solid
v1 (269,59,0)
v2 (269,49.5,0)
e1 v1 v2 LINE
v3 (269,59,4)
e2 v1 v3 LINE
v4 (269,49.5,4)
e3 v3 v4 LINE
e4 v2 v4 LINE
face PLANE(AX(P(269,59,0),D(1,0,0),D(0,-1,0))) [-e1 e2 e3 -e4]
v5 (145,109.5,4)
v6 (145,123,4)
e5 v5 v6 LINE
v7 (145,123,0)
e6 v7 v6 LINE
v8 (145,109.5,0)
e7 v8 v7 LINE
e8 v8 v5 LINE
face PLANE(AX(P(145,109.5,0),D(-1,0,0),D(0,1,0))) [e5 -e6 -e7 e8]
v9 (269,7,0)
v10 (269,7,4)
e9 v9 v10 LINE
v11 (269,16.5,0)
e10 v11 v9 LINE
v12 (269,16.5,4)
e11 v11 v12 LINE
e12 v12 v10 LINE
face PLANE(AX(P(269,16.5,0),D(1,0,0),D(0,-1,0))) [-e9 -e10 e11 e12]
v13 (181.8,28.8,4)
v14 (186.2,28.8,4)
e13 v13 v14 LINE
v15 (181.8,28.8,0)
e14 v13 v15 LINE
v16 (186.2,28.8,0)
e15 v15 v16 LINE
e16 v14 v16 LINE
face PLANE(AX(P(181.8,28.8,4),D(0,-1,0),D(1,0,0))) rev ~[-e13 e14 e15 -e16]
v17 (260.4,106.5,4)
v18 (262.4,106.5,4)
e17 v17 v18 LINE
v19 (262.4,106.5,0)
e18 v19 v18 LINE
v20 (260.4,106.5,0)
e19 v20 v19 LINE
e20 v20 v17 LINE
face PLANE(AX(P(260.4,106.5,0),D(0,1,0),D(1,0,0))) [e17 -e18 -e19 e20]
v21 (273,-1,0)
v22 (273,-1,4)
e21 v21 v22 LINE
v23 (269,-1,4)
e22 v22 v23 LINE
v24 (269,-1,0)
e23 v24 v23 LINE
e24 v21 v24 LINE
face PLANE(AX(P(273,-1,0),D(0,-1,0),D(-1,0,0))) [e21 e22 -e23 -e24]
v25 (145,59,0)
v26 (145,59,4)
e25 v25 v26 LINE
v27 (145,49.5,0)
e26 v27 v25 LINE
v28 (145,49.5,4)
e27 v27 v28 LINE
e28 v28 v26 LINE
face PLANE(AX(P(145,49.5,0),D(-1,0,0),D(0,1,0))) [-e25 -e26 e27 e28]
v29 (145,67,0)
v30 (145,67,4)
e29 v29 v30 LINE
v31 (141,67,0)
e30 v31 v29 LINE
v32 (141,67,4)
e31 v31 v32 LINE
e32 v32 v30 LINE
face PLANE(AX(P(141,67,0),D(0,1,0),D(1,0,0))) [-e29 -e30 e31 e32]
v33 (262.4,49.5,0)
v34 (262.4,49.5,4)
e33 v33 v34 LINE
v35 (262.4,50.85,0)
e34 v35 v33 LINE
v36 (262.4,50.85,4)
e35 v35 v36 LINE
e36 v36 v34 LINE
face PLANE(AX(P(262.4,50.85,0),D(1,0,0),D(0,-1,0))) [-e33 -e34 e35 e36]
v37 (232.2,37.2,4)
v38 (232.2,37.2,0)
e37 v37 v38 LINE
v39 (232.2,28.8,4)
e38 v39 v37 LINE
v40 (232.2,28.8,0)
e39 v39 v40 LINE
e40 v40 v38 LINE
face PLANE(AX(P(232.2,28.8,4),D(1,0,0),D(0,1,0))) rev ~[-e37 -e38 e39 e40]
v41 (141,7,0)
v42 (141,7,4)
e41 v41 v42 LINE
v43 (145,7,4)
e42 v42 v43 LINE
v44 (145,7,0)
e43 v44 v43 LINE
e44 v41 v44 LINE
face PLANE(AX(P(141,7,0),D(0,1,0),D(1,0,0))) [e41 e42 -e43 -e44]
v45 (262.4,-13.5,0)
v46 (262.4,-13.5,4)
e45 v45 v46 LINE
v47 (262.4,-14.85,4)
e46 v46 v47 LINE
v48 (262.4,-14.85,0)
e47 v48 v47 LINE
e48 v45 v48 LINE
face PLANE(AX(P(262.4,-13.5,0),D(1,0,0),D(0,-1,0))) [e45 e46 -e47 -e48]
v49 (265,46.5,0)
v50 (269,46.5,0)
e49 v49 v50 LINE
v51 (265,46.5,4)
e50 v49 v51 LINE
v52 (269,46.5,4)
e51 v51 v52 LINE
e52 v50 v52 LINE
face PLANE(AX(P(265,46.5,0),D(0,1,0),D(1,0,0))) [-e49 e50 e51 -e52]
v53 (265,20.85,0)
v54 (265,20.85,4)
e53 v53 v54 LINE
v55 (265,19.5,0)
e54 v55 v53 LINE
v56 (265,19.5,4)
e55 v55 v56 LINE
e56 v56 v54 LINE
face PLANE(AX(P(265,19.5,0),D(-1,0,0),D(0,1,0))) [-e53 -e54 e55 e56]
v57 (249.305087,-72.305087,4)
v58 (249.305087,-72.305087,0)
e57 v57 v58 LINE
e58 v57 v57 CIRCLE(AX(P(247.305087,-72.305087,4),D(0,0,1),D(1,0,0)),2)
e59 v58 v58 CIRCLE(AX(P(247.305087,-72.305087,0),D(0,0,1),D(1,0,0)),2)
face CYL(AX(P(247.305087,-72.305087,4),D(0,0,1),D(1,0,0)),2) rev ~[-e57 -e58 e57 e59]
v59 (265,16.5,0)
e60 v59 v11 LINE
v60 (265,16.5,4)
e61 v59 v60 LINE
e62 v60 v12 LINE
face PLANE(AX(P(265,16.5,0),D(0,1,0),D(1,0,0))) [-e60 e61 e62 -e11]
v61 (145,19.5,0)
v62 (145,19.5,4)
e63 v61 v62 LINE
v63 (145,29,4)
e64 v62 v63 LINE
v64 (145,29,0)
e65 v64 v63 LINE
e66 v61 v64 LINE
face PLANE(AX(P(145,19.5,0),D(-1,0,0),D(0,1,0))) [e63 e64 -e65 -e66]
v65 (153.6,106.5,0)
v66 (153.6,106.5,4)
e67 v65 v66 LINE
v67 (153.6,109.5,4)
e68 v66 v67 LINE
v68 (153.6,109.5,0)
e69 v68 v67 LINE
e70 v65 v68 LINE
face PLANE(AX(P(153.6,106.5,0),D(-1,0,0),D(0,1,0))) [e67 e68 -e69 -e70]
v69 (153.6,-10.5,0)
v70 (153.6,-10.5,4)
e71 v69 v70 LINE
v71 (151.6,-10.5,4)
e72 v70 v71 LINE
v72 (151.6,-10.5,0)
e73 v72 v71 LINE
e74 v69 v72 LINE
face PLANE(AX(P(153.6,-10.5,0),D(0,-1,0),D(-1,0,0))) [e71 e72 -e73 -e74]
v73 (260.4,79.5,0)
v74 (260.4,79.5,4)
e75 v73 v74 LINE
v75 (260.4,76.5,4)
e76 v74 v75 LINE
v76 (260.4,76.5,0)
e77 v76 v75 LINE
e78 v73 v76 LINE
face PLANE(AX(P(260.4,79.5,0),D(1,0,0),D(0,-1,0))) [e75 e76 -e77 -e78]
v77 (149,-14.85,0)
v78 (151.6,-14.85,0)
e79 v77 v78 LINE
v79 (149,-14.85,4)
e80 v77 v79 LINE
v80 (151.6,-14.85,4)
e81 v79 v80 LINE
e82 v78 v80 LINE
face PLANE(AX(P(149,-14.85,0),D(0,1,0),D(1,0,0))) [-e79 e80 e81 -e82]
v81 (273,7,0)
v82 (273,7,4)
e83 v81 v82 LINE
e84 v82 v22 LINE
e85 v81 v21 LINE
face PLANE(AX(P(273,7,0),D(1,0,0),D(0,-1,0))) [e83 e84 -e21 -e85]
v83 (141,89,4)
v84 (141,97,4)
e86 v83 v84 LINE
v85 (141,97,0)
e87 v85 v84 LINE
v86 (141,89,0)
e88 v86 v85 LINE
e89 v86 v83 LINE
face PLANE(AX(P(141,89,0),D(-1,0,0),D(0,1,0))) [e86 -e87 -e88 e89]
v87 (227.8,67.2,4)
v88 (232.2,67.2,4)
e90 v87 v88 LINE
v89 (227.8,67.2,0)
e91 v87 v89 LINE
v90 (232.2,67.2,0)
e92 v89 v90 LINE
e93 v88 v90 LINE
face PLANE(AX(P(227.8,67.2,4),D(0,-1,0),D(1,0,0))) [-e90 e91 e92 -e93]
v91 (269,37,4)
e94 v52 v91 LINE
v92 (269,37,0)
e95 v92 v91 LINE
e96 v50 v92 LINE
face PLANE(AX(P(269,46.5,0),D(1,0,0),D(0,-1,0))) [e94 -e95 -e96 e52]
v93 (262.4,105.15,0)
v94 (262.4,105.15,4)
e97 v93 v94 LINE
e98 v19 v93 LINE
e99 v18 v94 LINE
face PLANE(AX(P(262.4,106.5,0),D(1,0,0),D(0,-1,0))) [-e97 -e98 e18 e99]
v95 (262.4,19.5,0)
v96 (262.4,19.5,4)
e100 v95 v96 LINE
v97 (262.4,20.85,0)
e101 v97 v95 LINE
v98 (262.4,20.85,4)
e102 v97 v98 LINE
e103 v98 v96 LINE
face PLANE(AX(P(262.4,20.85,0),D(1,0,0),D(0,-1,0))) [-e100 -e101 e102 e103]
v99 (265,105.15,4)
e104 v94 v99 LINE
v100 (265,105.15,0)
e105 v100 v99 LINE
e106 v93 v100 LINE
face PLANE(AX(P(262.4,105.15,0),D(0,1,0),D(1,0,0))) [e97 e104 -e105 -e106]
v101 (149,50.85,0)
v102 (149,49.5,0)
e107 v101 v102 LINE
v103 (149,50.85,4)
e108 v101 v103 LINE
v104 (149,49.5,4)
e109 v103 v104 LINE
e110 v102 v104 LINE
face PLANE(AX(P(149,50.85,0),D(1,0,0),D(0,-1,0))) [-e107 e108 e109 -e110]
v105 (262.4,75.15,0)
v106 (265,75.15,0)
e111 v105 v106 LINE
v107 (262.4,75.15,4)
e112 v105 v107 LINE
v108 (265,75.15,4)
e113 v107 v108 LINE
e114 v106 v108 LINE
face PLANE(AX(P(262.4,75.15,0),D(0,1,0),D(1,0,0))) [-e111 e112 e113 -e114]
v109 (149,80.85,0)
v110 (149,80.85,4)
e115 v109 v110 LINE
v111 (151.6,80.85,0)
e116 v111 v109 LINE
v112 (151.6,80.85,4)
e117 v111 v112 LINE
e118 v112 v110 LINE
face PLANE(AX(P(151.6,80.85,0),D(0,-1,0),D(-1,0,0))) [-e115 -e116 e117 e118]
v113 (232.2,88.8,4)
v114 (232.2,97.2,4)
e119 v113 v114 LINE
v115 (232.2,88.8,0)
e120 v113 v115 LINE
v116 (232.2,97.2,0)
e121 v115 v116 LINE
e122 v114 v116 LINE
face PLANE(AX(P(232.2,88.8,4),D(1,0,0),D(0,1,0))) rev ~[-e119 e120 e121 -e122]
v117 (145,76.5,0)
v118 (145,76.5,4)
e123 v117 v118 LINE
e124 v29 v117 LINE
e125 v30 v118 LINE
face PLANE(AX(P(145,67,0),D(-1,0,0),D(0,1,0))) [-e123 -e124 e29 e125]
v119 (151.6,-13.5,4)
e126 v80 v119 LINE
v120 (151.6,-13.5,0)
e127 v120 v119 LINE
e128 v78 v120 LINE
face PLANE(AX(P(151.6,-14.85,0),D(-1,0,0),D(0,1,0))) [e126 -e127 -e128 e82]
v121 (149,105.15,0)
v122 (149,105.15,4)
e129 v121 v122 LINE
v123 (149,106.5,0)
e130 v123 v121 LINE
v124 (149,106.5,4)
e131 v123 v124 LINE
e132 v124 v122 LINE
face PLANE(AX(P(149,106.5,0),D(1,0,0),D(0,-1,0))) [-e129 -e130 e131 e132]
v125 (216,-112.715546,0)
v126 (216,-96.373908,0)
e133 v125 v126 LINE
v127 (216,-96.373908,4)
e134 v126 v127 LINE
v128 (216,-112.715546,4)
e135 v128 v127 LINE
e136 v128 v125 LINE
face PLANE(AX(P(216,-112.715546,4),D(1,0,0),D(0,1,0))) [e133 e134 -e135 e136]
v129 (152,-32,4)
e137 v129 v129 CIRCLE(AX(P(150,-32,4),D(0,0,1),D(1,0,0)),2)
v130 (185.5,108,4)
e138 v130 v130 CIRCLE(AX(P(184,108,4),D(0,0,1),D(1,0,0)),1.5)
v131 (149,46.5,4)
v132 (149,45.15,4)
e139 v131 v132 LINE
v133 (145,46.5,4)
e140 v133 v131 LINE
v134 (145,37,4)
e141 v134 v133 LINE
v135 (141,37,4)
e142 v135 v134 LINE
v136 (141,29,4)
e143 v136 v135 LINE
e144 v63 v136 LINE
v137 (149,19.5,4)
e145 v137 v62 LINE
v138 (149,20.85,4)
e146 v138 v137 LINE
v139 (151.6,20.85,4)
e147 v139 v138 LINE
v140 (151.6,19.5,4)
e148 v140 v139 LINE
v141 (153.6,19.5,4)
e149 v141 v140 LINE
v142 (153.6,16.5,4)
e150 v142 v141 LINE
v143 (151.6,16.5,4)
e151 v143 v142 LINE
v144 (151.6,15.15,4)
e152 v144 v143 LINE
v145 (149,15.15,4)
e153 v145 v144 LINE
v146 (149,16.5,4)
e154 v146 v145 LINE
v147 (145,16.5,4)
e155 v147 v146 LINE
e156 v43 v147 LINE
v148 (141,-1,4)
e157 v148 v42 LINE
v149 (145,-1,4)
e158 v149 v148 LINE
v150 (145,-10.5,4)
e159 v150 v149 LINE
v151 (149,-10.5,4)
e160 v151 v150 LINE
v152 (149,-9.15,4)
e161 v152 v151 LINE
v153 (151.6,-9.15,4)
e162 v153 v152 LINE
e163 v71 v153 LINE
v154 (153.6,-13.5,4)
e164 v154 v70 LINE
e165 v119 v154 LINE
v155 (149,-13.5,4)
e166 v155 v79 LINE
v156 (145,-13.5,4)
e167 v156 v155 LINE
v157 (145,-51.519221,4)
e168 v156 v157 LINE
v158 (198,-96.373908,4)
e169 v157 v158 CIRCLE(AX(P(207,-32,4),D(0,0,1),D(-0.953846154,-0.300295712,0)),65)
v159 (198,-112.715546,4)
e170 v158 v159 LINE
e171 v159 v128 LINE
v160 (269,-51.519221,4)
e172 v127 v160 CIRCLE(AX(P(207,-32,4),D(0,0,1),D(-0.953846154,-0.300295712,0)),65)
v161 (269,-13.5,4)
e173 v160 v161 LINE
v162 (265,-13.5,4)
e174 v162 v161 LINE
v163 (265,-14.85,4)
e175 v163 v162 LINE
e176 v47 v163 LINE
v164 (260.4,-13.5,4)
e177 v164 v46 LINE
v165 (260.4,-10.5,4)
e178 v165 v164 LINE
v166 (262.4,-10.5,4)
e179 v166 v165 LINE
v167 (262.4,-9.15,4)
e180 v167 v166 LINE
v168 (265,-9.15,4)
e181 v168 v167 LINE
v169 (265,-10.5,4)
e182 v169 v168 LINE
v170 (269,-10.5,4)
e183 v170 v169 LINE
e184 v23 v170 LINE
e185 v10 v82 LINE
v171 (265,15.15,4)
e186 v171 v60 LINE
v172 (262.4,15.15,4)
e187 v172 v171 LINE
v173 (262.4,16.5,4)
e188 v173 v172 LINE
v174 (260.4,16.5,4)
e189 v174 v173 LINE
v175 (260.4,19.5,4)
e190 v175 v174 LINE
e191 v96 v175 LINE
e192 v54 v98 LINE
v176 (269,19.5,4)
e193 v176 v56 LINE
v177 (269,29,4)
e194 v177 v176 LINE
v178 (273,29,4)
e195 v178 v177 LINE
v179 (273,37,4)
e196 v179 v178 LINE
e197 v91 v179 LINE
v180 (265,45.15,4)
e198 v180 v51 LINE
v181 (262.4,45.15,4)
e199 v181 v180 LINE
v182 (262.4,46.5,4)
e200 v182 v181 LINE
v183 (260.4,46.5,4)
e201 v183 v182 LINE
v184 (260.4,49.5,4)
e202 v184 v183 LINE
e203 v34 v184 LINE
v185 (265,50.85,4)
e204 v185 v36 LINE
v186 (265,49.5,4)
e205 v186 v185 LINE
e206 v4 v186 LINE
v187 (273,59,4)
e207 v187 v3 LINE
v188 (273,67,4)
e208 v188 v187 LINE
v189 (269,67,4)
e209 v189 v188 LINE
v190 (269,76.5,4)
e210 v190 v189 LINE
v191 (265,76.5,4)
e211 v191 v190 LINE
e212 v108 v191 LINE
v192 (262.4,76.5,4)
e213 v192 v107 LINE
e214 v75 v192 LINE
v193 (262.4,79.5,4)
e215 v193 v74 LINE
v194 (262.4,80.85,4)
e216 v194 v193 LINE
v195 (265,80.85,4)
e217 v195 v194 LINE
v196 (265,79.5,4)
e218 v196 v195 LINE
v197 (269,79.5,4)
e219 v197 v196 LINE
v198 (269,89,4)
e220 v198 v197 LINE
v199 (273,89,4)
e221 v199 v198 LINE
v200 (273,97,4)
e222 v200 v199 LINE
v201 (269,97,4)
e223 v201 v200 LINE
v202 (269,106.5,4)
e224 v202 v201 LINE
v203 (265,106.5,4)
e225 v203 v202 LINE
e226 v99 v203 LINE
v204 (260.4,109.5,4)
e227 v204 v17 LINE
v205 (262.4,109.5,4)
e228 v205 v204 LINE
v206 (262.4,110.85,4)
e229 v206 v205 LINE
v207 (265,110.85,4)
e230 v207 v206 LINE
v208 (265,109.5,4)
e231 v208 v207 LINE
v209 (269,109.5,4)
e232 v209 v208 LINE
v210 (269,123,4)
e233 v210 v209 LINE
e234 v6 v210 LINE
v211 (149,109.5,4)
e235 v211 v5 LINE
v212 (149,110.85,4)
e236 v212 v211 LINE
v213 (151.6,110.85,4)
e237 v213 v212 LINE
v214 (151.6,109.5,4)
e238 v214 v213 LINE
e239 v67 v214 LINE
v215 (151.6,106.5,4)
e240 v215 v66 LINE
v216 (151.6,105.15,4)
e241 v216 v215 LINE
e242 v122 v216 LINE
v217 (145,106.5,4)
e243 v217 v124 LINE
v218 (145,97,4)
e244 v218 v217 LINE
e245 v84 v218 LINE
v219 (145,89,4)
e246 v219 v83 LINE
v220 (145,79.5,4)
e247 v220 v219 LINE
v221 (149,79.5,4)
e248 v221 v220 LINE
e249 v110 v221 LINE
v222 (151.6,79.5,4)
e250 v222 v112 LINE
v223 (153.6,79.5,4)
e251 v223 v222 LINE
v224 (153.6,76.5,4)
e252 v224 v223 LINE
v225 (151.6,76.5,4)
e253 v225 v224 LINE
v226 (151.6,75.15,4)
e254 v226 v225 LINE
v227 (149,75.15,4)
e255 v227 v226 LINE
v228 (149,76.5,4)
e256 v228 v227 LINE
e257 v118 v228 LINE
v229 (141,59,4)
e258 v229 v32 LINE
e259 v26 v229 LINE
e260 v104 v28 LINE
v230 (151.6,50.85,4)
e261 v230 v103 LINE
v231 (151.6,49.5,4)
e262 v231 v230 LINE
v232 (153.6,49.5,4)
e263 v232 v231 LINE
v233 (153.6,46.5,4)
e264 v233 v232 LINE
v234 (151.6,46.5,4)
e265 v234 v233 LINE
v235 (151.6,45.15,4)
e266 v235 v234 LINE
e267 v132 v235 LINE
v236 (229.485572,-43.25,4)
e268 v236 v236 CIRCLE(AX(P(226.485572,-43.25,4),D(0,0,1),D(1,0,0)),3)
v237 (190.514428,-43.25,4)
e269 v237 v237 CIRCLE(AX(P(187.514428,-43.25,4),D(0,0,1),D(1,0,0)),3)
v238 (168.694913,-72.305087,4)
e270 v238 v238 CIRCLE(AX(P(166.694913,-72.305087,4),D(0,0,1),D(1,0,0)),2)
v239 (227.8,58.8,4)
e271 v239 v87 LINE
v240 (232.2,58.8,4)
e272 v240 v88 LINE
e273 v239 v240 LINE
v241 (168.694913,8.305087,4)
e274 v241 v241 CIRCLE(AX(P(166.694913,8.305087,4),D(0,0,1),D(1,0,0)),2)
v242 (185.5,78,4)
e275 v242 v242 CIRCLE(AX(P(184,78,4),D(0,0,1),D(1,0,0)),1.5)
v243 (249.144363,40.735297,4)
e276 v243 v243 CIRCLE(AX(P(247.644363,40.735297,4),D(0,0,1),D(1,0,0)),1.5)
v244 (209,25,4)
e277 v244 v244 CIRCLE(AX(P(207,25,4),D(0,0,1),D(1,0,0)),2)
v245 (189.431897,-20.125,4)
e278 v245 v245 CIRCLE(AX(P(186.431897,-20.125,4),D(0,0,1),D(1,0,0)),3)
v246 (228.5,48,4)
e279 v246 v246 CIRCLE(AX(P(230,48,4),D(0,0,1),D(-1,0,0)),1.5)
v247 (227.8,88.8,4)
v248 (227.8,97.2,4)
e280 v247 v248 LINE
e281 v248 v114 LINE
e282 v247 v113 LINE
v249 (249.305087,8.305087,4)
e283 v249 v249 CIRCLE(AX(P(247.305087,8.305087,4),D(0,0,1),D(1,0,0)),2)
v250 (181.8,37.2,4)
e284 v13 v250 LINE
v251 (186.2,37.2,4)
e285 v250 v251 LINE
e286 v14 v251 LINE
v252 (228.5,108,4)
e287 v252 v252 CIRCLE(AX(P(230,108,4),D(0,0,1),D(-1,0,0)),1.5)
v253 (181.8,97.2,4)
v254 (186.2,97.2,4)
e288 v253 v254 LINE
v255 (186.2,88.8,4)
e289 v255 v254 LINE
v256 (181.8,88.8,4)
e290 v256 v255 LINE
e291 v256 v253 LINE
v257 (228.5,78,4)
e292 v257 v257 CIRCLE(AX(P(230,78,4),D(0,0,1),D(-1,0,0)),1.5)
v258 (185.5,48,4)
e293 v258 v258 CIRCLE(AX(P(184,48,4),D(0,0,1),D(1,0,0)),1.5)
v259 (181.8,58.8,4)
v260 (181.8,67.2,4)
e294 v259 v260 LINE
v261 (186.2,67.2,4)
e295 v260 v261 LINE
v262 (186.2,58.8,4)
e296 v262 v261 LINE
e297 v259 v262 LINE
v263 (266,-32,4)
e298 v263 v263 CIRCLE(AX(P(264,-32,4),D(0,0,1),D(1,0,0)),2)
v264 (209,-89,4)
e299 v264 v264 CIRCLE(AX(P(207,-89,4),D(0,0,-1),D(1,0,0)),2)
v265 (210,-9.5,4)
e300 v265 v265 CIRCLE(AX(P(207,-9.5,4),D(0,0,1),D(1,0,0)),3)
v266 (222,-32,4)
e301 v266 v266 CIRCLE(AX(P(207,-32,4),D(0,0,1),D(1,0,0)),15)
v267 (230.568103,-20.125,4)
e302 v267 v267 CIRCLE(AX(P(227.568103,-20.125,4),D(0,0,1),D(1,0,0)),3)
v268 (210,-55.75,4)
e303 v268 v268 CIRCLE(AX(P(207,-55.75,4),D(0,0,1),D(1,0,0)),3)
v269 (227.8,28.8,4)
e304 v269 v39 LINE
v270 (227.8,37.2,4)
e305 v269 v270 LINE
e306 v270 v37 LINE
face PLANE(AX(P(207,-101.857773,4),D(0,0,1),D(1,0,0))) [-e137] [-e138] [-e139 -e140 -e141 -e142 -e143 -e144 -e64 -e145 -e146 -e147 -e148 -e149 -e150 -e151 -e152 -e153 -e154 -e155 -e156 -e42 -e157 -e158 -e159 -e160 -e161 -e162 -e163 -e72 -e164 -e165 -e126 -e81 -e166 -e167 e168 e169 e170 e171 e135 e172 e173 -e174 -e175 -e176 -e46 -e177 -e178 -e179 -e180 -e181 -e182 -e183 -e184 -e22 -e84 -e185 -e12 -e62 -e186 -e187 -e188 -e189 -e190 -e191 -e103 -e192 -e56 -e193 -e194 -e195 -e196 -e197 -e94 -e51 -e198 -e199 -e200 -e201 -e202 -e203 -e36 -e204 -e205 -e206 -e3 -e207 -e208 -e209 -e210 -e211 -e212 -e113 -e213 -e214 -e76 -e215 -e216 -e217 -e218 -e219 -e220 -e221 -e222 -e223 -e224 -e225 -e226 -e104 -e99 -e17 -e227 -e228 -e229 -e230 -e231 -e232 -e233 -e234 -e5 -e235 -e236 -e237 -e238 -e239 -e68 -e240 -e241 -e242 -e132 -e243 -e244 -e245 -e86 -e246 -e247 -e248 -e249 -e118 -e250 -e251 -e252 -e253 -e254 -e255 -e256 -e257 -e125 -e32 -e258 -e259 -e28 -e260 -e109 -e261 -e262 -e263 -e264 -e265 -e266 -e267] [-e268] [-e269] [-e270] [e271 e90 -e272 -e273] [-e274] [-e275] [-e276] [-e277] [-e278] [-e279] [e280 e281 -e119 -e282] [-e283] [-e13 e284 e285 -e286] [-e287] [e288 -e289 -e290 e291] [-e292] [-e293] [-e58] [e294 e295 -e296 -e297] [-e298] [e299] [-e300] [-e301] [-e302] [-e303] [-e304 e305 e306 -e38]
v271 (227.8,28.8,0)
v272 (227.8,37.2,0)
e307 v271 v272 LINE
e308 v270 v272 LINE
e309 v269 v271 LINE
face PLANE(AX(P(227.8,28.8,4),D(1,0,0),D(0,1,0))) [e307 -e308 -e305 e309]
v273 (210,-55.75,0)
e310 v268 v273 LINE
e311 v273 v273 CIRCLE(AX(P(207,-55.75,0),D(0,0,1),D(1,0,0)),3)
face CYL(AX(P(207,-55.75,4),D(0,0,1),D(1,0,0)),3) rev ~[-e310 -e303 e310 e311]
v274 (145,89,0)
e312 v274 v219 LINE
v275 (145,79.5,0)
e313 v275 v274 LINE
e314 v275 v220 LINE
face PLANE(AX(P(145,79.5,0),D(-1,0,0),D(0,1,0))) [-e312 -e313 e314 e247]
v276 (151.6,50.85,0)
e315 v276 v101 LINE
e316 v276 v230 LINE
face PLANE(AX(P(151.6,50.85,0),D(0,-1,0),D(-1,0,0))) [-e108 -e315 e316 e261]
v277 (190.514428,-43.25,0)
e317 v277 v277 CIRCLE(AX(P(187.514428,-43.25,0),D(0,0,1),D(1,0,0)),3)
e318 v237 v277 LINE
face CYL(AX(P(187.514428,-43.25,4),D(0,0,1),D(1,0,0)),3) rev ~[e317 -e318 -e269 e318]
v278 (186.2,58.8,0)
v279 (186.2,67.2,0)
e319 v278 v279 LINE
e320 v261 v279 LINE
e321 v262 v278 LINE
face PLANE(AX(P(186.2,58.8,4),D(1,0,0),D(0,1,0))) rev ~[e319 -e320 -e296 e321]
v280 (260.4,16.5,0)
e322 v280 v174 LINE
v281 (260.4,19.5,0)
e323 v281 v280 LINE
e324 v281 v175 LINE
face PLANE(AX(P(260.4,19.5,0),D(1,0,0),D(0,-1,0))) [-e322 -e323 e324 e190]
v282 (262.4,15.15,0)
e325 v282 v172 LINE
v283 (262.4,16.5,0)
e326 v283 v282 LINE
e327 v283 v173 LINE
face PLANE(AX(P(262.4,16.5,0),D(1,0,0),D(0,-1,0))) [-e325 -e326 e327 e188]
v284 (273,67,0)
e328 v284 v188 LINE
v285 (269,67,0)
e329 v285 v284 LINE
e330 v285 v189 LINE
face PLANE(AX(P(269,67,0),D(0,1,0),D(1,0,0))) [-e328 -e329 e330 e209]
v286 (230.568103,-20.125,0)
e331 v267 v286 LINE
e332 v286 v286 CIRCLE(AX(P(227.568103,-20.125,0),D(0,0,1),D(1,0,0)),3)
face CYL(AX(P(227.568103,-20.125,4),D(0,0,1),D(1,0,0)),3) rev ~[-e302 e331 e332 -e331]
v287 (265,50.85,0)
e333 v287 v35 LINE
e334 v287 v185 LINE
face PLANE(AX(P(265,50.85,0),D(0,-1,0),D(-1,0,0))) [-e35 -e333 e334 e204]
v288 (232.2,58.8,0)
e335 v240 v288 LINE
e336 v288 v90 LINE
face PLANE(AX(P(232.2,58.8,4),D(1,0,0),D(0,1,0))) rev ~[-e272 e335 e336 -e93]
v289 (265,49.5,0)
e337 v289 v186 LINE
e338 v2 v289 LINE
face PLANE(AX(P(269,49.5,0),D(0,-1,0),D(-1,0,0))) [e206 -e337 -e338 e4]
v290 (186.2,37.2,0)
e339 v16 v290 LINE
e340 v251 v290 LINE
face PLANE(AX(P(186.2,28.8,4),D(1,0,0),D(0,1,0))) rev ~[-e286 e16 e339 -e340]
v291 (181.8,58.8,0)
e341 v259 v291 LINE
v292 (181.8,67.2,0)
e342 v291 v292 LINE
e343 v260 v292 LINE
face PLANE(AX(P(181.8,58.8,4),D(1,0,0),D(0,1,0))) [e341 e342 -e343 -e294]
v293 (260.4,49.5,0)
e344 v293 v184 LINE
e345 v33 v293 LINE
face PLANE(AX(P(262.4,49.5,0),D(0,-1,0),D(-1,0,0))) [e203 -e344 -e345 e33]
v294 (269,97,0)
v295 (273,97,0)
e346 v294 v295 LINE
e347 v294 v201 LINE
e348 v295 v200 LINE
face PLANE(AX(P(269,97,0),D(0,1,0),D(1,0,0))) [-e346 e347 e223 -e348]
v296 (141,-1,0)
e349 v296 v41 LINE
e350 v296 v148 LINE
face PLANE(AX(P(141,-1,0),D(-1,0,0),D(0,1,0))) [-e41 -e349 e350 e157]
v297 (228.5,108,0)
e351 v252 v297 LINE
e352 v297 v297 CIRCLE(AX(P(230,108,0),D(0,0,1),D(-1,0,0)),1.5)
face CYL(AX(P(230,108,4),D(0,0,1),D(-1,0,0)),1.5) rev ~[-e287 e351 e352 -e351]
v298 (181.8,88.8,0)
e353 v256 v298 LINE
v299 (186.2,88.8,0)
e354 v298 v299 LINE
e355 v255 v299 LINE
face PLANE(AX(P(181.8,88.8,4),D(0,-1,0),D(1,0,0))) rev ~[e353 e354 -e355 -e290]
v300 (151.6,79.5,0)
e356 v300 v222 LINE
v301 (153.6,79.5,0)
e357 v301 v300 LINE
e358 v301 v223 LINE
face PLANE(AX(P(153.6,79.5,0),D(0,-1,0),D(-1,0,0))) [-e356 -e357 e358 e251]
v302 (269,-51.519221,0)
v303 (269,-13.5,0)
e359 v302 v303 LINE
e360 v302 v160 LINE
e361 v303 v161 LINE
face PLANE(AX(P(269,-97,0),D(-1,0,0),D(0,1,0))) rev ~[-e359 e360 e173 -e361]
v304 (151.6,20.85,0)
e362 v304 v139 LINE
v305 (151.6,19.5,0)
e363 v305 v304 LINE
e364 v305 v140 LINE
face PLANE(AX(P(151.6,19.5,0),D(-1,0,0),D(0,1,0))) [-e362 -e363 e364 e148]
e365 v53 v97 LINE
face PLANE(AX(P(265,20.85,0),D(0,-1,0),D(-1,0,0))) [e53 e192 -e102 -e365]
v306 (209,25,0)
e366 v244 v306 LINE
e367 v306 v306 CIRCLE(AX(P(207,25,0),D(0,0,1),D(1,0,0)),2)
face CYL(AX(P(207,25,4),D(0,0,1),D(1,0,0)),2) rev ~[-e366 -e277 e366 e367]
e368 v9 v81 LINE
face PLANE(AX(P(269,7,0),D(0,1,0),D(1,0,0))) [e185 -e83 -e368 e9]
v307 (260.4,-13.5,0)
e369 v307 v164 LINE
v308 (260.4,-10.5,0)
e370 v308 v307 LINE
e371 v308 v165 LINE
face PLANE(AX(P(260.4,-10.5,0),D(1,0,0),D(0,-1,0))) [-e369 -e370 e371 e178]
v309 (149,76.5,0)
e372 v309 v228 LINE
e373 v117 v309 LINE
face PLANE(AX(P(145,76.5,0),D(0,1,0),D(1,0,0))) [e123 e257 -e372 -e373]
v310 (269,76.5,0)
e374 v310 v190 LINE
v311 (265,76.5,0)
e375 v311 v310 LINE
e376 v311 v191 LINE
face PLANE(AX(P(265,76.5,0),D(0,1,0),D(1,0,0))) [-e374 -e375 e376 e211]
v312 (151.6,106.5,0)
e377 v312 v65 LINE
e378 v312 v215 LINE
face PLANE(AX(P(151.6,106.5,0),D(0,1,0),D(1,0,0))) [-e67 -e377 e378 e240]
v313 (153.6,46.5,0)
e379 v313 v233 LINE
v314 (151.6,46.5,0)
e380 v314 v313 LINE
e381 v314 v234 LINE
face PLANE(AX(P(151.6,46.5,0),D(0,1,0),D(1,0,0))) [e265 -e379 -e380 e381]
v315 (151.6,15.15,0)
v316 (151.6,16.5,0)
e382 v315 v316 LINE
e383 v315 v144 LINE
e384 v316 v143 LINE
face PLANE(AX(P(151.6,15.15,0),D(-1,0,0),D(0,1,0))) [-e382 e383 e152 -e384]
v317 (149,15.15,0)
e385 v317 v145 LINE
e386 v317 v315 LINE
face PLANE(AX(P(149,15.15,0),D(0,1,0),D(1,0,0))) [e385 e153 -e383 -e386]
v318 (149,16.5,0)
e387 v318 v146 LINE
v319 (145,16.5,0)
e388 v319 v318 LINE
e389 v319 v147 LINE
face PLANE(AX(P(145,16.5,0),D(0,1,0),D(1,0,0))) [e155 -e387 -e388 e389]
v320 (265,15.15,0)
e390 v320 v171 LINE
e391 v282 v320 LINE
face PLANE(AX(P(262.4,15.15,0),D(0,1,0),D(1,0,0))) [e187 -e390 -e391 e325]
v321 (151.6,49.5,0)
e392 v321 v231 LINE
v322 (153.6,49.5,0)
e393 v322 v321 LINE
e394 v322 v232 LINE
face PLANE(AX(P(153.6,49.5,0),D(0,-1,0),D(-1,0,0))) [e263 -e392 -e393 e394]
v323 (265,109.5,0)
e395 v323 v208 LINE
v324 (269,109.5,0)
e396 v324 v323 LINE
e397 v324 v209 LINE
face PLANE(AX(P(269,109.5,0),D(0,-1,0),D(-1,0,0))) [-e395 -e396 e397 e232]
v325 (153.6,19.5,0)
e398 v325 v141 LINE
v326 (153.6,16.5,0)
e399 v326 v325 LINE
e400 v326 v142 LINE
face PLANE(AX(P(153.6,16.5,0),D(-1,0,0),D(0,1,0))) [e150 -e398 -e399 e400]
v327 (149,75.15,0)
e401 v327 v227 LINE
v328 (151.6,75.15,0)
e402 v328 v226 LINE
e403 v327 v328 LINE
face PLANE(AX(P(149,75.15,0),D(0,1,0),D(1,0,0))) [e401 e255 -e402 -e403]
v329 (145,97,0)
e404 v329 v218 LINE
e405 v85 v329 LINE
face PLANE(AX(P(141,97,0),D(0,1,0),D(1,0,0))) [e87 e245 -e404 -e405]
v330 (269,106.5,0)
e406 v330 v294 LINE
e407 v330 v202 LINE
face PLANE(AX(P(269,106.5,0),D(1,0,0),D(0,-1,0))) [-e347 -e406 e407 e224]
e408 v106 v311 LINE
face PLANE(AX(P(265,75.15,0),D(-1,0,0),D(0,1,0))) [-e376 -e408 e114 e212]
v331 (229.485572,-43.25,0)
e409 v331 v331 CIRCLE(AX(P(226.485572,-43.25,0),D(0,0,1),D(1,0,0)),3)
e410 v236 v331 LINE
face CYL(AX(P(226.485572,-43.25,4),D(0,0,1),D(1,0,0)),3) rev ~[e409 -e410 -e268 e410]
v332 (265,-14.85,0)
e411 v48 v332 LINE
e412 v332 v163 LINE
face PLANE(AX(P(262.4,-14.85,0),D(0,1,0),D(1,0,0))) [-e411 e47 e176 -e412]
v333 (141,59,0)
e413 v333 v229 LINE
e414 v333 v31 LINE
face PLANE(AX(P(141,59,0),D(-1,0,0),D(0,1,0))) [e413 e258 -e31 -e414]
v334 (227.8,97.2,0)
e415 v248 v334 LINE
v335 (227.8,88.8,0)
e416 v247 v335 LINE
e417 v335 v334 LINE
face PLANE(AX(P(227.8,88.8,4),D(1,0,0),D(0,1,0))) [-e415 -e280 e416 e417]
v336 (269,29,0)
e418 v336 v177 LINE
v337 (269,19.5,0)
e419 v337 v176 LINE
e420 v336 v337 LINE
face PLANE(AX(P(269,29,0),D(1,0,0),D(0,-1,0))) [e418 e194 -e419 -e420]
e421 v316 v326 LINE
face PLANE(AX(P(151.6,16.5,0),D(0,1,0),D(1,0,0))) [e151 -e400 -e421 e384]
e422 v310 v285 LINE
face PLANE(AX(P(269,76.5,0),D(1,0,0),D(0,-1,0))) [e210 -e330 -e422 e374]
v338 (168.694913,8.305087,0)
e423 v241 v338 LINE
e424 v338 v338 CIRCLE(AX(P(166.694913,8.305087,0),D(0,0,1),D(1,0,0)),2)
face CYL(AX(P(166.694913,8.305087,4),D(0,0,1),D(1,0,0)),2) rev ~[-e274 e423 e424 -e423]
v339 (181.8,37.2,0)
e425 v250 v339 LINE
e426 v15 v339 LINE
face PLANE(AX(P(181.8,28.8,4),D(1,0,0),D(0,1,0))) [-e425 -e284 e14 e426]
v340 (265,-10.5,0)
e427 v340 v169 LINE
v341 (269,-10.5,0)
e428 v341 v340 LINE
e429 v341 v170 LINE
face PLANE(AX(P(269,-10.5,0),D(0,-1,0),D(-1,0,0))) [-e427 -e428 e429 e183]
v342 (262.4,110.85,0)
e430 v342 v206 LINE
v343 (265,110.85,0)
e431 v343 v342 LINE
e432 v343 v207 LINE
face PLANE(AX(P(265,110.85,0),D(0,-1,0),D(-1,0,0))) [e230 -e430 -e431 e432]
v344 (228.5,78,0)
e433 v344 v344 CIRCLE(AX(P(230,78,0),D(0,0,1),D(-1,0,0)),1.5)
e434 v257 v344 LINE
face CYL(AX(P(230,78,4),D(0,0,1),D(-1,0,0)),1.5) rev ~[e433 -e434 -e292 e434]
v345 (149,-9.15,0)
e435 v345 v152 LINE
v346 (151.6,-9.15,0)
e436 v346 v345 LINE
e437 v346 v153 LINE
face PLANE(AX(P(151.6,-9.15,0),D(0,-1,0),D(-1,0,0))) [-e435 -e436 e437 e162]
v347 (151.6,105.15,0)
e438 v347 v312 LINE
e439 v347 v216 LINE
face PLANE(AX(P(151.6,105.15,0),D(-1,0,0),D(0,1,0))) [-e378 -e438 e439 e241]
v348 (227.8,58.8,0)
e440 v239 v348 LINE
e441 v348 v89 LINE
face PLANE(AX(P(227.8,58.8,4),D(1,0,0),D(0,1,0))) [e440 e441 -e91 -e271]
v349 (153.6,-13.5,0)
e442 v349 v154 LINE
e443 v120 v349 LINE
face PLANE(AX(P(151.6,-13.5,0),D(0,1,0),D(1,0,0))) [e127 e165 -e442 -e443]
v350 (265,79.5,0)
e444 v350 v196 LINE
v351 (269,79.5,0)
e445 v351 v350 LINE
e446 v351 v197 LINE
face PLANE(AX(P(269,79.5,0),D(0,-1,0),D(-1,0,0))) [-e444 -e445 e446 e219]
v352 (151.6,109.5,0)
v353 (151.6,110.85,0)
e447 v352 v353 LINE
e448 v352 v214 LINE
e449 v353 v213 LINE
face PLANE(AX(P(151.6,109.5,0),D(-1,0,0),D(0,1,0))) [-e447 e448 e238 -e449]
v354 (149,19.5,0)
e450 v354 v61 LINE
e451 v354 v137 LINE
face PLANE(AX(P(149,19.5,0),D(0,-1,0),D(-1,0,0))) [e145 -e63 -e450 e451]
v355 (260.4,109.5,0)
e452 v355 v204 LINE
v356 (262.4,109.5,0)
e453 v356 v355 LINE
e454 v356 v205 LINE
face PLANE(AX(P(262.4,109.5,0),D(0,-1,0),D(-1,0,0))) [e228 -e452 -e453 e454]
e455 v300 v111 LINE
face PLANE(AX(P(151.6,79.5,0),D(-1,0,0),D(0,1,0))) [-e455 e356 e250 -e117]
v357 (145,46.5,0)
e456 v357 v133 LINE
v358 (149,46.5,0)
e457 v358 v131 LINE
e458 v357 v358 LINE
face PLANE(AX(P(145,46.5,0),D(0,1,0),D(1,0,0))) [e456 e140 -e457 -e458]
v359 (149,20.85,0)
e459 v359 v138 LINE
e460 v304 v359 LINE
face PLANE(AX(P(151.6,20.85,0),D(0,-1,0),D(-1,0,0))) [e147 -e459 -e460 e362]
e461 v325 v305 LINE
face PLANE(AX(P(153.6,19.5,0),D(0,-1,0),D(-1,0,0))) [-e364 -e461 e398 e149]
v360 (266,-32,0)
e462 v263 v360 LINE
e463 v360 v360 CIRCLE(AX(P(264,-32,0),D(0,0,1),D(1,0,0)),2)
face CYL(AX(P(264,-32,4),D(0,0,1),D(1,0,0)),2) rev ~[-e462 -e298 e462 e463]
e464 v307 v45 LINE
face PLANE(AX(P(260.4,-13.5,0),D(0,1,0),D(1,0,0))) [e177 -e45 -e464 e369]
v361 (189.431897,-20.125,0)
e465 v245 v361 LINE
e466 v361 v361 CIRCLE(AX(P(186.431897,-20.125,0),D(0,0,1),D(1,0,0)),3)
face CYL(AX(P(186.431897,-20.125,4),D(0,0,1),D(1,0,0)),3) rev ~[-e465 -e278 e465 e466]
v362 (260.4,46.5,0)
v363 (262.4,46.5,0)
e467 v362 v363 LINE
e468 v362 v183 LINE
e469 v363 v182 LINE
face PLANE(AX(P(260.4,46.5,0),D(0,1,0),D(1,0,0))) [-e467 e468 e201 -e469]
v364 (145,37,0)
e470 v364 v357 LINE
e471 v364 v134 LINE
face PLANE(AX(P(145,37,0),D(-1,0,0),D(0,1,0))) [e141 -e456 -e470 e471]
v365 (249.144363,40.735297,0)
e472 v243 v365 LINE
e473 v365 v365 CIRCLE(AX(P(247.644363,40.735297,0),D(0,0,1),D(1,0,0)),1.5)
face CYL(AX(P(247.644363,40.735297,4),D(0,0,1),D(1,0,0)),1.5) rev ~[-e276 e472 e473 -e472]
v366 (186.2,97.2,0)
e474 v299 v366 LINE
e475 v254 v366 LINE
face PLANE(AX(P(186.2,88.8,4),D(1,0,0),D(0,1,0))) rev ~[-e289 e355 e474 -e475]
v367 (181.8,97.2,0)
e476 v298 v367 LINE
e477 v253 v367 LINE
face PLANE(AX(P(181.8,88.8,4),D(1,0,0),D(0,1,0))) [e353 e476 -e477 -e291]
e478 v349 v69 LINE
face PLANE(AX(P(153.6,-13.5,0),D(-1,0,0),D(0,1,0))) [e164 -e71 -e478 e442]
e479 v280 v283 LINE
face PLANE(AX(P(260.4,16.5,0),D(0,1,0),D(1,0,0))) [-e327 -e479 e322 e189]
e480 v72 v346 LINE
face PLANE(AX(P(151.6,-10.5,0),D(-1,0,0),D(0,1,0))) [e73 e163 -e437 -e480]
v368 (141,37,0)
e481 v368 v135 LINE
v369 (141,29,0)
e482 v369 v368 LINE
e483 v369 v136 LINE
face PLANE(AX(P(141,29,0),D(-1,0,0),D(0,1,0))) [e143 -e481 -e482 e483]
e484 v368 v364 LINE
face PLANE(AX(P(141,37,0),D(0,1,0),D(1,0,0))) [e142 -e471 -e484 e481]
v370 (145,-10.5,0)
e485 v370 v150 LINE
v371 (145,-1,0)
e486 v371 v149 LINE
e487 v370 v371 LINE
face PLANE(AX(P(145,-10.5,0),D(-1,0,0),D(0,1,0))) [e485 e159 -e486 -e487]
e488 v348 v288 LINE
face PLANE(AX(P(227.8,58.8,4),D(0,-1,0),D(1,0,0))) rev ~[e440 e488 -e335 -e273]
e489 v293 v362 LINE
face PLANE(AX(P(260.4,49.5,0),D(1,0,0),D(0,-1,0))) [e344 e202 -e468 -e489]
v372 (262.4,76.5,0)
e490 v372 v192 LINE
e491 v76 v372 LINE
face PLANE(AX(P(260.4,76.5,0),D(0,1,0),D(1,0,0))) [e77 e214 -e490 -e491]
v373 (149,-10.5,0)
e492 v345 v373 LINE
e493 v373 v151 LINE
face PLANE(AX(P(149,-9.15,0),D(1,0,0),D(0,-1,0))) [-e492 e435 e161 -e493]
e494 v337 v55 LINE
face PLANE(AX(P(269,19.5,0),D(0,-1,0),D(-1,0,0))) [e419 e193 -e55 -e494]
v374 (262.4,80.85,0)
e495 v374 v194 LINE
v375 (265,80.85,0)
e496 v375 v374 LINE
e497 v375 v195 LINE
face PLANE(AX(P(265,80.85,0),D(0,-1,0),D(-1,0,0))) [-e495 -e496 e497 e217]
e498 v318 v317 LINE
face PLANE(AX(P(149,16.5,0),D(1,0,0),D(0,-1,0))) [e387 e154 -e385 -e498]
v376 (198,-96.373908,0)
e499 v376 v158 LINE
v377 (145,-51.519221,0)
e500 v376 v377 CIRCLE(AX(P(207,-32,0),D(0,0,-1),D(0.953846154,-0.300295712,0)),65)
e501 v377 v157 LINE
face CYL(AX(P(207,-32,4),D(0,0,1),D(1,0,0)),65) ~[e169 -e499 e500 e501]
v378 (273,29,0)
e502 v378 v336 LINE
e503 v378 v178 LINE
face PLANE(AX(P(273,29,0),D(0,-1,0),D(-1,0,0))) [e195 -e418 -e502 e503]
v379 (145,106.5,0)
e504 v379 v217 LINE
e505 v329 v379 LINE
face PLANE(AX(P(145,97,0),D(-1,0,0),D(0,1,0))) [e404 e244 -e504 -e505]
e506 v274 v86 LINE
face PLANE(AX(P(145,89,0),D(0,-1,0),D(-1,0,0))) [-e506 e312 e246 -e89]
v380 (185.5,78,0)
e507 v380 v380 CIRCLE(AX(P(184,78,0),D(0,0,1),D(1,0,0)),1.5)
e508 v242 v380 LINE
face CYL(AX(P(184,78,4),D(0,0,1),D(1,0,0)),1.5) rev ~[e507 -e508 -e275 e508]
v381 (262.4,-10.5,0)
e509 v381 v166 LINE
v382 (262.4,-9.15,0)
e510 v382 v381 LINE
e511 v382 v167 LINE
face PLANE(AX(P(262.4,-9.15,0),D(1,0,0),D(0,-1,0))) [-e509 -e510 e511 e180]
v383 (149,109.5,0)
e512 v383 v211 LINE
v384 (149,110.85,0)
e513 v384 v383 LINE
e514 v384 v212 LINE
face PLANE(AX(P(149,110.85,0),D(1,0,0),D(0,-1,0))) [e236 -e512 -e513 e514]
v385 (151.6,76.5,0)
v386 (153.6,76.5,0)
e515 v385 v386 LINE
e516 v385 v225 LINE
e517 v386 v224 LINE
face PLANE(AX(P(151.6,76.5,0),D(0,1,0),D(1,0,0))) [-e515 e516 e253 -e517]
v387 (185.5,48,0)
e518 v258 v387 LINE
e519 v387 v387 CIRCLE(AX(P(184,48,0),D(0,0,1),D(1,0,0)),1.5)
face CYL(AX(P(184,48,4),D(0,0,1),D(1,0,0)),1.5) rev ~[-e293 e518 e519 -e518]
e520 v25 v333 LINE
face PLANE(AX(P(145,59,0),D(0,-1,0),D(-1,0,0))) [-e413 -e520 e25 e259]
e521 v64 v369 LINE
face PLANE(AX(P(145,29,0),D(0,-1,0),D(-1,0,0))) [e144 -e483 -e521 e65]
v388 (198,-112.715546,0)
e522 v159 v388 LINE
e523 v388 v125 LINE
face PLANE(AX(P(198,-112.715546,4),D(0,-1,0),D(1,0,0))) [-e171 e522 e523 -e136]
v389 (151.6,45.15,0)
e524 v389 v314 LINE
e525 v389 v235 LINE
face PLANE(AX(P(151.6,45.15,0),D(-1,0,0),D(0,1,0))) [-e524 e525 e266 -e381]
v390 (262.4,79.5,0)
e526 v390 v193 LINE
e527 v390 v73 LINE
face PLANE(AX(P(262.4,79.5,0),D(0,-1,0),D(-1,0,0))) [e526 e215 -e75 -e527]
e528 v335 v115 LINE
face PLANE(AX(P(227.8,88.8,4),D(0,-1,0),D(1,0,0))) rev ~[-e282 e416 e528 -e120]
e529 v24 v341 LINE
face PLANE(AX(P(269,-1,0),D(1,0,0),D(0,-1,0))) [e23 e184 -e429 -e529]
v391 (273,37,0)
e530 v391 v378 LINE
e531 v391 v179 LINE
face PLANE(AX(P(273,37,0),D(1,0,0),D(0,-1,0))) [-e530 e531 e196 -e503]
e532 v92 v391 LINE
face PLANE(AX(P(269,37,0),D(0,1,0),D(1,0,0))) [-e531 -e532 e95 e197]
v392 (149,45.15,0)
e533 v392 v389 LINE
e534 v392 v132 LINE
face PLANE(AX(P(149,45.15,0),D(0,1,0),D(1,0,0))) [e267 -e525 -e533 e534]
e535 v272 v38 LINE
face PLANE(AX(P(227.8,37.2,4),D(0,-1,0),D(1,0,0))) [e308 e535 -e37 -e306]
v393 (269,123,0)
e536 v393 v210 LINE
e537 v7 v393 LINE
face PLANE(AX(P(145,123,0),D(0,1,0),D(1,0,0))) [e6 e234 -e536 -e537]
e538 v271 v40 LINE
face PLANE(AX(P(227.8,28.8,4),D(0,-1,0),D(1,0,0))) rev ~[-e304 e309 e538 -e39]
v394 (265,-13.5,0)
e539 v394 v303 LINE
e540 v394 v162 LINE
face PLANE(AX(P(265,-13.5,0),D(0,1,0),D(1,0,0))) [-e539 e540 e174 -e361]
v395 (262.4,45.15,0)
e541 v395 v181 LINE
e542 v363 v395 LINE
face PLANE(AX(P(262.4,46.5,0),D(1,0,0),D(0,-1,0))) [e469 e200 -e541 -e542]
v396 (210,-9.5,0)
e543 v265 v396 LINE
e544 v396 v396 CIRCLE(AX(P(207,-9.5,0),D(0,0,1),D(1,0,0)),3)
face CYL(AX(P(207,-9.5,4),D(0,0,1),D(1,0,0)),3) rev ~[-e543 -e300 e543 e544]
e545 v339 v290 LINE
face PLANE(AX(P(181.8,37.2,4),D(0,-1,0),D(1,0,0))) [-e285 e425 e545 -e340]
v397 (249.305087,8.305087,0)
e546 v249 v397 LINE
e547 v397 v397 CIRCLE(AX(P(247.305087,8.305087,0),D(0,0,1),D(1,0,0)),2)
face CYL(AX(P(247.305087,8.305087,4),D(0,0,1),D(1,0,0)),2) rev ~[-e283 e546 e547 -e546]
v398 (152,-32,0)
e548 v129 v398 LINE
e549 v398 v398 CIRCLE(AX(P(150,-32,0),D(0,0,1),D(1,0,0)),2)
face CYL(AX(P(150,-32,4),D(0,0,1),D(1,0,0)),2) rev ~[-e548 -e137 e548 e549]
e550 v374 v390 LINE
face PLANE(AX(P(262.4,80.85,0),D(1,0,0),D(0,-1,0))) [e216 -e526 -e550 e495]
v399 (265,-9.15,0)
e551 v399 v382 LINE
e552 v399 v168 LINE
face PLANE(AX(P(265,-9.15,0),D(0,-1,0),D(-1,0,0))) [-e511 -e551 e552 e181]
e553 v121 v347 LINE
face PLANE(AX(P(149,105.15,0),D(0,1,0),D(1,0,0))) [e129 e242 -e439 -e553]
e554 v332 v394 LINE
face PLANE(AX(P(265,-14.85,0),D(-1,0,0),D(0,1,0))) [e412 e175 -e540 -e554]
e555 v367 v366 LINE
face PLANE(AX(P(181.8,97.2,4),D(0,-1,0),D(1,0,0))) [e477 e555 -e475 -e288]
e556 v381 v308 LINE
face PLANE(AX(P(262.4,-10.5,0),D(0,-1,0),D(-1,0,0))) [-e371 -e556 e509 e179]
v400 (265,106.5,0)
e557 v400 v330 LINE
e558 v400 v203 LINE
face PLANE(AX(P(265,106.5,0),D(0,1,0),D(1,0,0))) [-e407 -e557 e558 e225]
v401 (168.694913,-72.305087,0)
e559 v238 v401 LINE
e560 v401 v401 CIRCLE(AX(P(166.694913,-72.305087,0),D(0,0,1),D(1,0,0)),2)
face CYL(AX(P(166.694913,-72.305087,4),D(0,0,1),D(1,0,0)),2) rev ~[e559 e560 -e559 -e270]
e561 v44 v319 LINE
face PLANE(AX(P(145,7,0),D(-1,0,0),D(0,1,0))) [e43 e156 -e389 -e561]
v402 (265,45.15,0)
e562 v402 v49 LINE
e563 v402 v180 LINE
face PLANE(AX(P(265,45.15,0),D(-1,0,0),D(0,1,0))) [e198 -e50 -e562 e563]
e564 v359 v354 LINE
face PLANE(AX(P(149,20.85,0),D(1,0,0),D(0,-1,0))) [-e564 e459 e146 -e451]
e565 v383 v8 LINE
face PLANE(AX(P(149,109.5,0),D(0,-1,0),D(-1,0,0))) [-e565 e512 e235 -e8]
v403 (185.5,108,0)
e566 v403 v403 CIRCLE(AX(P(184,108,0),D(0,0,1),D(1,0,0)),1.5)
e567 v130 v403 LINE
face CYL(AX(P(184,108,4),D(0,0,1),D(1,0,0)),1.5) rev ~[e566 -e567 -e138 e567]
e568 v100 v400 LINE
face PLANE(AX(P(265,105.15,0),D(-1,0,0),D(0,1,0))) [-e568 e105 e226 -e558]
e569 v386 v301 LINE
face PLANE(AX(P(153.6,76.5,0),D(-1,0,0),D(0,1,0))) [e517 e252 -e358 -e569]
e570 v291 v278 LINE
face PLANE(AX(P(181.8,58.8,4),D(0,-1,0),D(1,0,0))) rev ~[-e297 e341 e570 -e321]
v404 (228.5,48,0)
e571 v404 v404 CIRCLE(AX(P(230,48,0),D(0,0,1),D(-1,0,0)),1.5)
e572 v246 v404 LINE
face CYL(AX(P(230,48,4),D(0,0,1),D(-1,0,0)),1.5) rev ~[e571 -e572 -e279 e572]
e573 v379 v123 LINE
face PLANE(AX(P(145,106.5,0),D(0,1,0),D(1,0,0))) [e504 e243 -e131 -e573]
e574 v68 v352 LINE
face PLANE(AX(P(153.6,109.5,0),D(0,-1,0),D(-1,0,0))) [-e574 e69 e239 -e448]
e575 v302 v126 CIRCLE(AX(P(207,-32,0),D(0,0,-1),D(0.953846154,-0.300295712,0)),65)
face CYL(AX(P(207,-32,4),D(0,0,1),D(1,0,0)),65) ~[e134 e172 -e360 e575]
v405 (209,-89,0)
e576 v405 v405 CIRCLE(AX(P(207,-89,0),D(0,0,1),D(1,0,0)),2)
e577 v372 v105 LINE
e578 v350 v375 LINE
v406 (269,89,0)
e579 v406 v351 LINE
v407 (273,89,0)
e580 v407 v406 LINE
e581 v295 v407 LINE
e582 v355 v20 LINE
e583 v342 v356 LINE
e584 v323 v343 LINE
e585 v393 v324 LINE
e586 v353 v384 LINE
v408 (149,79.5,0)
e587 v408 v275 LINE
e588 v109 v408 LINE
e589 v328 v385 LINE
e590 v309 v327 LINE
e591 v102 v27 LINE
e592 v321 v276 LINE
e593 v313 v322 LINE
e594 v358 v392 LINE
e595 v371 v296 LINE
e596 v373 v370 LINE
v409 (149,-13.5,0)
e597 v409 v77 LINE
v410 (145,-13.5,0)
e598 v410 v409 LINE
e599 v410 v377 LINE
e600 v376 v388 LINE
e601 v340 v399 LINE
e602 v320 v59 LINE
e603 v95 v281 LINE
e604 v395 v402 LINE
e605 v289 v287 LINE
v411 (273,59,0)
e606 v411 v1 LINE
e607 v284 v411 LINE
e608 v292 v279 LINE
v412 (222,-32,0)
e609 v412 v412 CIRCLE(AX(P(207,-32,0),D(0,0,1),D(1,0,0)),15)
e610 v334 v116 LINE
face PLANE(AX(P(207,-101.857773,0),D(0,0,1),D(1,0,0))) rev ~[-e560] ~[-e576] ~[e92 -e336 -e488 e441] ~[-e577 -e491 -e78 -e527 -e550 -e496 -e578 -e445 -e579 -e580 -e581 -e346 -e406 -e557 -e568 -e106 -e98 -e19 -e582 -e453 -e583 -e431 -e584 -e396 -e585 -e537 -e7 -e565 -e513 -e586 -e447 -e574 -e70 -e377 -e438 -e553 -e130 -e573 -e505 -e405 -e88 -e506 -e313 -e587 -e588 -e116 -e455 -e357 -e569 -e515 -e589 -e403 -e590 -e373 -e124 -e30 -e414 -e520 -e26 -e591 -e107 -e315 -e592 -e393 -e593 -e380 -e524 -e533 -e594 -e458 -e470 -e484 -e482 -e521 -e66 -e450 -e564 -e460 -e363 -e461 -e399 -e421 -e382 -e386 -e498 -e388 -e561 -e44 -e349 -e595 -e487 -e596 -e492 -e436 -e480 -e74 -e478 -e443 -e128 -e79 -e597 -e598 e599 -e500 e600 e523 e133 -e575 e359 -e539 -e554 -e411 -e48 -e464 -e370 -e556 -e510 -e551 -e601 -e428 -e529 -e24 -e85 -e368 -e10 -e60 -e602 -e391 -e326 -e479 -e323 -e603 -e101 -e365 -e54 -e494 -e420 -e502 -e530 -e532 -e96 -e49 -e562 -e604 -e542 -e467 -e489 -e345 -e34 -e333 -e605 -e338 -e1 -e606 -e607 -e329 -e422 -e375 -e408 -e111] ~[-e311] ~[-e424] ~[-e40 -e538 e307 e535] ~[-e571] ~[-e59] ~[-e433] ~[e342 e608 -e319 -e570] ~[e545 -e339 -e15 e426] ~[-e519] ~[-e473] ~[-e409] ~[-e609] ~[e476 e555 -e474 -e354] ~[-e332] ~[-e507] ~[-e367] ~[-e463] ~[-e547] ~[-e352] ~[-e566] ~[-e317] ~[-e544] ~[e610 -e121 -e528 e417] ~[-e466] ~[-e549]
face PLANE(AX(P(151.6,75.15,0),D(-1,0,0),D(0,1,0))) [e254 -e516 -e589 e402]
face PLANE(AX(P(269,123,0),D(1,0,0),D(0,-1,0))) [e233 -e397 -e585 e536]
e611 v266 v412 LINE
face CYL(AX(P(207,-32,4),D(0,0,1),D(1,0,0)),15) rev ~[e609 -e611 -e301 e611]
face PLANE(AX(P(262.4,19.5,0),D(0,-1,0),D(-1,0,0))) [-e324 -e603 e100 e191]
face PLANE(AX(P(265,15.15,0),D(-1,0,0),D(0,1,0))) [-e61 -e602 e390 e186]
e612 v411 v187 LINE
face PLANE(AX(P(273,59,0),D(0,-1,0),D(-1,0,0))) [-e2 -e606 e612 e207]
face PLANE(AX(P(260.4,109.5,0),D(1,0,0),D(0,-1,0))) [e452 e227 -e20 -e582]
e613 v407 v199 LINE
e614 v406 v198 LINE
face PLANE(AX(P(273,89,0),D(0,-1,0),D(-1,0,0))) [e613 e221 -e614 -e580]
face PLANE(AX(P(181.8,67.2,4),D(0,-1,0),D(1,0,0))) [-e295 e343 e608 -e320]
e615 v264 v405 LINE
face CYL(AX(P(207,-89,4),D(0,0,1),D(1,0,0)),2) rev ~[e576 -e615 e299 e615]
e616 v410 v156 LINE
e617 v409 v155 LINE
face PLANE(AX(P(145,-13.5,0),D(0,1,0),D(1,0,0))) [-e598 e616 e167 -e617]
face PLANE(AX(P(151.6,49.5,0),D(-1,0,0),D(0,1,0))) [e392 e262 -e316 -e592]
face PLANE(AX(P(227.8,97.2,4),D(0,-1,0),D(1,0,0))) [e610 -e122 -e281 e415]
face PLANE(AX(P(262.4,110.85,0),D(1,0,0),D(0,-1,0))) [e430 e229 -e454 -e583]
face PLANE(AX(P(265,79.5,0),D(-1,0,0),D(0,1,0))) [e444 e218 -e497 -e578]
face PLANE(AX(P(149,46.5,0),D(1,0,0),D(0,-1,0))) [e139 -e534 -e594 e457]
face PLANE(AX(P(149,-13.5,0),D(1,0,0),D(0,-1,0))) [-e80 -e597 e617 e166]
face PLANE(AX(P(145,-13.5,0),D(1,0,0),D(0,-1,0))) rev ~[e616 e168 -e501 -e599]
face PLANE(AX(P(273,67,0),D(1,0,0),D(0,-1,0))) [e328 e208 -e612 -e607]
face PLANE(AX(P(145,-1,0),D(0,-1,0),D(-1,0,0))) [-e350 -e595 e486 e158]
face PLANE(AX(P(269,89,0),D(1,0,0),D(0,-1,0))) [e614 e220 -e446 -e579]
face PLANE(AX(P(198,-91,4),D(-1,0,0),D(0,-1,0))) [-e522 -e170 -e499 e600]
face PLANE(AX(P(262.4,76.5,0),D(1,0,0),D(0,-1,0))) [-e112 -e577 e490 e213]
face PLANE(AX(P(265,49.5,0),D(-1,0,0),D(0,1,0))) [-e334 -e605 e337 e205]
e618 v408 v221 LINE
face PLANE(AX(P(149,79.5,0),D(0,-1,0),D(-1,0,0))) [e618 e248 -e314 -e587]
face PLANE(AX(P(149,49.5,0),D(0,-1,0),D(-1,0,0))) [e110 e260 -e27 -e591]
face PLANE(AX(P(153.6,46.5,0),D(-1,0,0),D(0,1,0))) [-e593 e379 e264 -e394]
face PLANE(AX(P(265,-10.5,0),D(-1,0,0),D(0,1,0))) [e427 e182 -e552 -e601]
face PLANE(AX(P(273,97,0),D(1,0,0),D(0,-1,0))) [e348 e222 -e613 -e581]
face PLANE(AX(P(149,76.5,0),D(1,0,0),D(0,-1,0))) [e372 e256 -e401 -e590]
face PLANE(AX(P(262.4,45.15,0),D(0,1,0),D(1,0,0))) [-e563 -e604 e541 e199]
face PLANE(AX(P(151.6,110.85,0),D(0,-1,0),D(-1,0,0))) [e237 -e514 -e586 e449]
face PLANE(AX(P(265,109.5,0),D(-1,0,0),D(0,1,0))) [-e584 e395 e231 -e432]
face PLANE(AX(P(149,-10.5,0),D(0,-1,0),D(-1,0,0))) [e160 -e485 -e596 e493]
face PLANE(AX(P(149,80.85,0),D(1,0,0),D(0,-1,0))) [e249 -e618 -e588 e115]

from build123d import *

# Parameters (mm, degrees)
SKETCH_1_R          = 2.28339151
EXTRUDE_1_DEPTH     = 4
SKETCH_3_R          = 3
SKETCH_3_R_2        = 15
SKETCH_3_R_3        = 2
CUT_EXTRUDE_1_DEPTH = 4
SKETCH_6_R          = 1.5
SKETCH_6_W          = 4.4
SKETCH_6_H          = 8.4
CUT_EXTRUDE_3_DEPTH = 4
SKETCH_7_R          = 1.5
CUT_EXTRUDE_5_DEPTH = 10
EXTRUDE_2_DEPTH     = 4


with BuildPart() as part:
    # 草图1 → 凸台-拉伸1 (new body)
    with BuildSketch(Plane.XY):
        Polygon((145, 46.5), (149, 46.5), (149, 45.15), (151.6, 45.15), (151.6, 46.5), (153.6, 46.5), (153.6, 49.5), (151.6, 49.5), (151.6, 50.85), (149, 50.85), (149, 49.5), (145, 49.5), (145, 59), (141, 59), (141, 67), (145, 67), (145, 76.5), (149, 76.5), (149, 75.15), (151.6, 75.15), (151.6, 76.5), (153.6, 76.5), (153.6, 79.5), (151.6, 79.5), (151.6, 80.85), (149, 80.85), (149, 79.5), (145, 79.5), (145, 89), (141, 89), (141, 97), (145, 97), (145, 106.5), (149, 106.5), (149, 105.15), (151.6, 105.15), (151.6, 106.5), (153.6, 106.5), (153.6, 109.5), (151.6, 109.5), (151.6, 110.85), (149, 110.85), (149, 109.5), (145, 109.5), (145, 123), (269, 123), (269, 109.5), (265, 109.5), (265, 110.85), (262.4, 110.85), (262.4, 109.5), (260.4, 109.5), (260.4, 106.5), (262.4, 106.5), (262.4, 105.15), (265, 105.15), (265, 106.5), (269, 106.5), (269, 97), (273, 97), (273, 89), (269, 89), (269, 79.5), (265, 79.5), (265, 80.85), (262.4, 80.85), (262.4, 79.5), (260.4, 79.5), (260.4, 76.5), (262.4, 76.5), (262.4, 75.15), (265, 75.15), (265, 76.5), (269, 76.5), (269, 67), (273, 67), (273, 59), (269, 59), (269, 49.5), (265, 49.5), (265, 50.85), (262.4, 50.85), (262.4, 49.5), (260.4, 49.5), (260.4, 46.5), (262.4, 46.5), (262.4, 45.15), (265, 45.15), (265, 46.5), (269, 46.5), (269, 37), (273, 37), (273, 29), (269, 29), (269, 19.5), (265, 19.5), (265, 20.85), (262.4, 20.85), (262.4, 19.5), (260.4, 19.5), (260.4, 16.5), (262.4, 16.5), (262.4, 15.15), (265, 15.15), (265, 16.5), (269, 16.5), (269, 7), (273, 7), (273, -1), (269, -1), (269, -10.5), (265, -10.5), (265, -9.15), (262.4, -9.15), (262.4, -10.5), (260.4, -10.5), (260.4, -13.5), (262.4, -13.5), (262.4, -14.85), (265, -14.85), (265, -13.5), (269, -13.5), (269, -27), (269, -97), (145, -97), (145, -27), (145, -13.5), (149, -13.5), (149, -14.85), (151.6, -14.85), (151.6, -13.5), (153.6, -13.5), (153.6, -10.5), (151.6, -10.5), (151.6, -9.15), (149, -9.15), (149, -10.5), (145, -10.5), (145, -1), (141, -1), (141, 7), (145, 7), (145, 16.5), (149, 16.5), (149, 15.15), (151.6, 15.15), (151.6, 16.5), (153.6, 16.5), (153.6, 19.5), (151.6, 19.5), (151.6, 20.85), (149, 20.85), (149, 19.5), (145, 19.5), (145, 29), (141, 29), (141, 37), (145, 37), align=None)
        with Locations((262.4, -88.911124512)):
            Circle(SKETCH_1_R, mode=Mode.SUBTRACT)
    extrude(amount=EXTRUDE_1_DEPTH)

    # 草图3 → 切除-拉伸1 (cut)
    with BuildSketch(Plane.XY.offset(4)):
        with Locations((207, -55.75)):
            Circle(SKETCH_3_R)
        with Locations((226.485571585, -43.25)):
            Circle(SKETCH_3_R)
        with Locations((207, -32)):
            Circle(SKETCH_3_R_2)
        with Locations((264, -32)):
            Circle(SKETCH_3_R_3)
        with Locations((186.43189666, -20.125)):
            Circle(SKETCH_3_R)
        with Locations((227.56810334, -20.125)):
            Circle(SKETCH_3_R)
        with Locations((187.514428415, -43.25)):
            Circle(SKETCH_3_R)
        with Locations((207, -9.5)):
            Circle(SKETCH_3_R)
        with Locations((247.305086528, -72.305086528)):
            Circle(SKETCH_3_R_3)
        with Locations((207, -89)):
            Circle(SKETCH_3_R_3)
        with Locations((166.694913472, -72.305086528)):
            Circle(SKETCH_3_R_3)
        with Locations((150, -32)):
            Circle(SKETCH_3_R_3)
        with Locations((166.694913472, 8.305086528)):
            Circle(SKETCH_3_R_3)
        with Locations((207, 25)):
            Circle(SKETCH_3_R_3)
        with Locations((247.305086528, 8.305086528)):
            Circle(SKETCH_3_R_3)
    extrude(amount=-CUT_EXTRUDE_1_DEPTH, mode=Mode.SUBTRACT)

    # 草图6 → 切除-拉伸3 (cut)
    with BuildSketch(Plane.XY.offset(4)):
        with Locations((184, 108)):
            Circle(SKETCH_6_R)
        with Locations((184, 78)):
            Circle(SKETCH_6_R)
        with Locations((184, 48)):
            Circle(SKETCH_6_R)
        with Locations(Location((230, 48, 0), (0, 0, 180))):
            Circle(SKETCH_6_R)
        with Locations(Location((230, 78, 0), (0, 0, 180))):
            Circle(SKETCH_6_R)
        with Locations(Location((230, 108, 0), (0, 0, 180))):
            Circle(SKETCH_6_R)
        with Locations((184, 93)):
            Rectangle(SKETCH_6_W, SKETCH_6_H)
        with Locations((184, 63)):
            Rectangle(SKETCH_6_W, SKETCH_6_H)
        with Locations((184, 33)):
            Rectangle(SKETCH_6_W, SKETCH_6_H)
        with Locations((230, 33)):
            Rectangle(SKETCH_6_W, SKETCH_6_H)
        with Locations((230, 63)):
            Rectangle(SKETCH_6_W, SKETCH_6_H)
        with Locations((230, 93)):
            Rectangle(SKETCH_6_W, SKETCH_6_H)
    extrude(amount=-CUT_EXTRUDE_3_DEPTH, mode=Mode.SUBTRACT)

    # 草图7 → 切除-拉伸5 (cut)
    with BuildSketch(Plane.XY.offset(4)):
        with Locations((247.644363383, 40.735296654)):
            Circle(SKETCH_7_R)
        with BuildLine():
            Line((142, -32), (85.31125556, -32))
            ThreePointArc((85.31125556, -32), (207, -153.68874444), (328.68874444, -32))
            Line((328.68874444, -32), (272, -32))
            ThreePointArc((272, -32), (207, -97), (142, -32))
        make_face()
    extrude(amount=-CUT_EXTRUDE_5_DEPTH, mode=Mode.SUBTRACT)

    # 草图8 → 凸台-拉伸2 (add)
    with BuildSketch(Plane.XY.offset(4)):
        Polygon((198, -112.71554622), (207, -112.71554622), (216, -112.71554622), (216, -91), (198, -91), align=None)
    extrude(amount=-EXTRUDE_2_DEPTH)


solid = part.part
